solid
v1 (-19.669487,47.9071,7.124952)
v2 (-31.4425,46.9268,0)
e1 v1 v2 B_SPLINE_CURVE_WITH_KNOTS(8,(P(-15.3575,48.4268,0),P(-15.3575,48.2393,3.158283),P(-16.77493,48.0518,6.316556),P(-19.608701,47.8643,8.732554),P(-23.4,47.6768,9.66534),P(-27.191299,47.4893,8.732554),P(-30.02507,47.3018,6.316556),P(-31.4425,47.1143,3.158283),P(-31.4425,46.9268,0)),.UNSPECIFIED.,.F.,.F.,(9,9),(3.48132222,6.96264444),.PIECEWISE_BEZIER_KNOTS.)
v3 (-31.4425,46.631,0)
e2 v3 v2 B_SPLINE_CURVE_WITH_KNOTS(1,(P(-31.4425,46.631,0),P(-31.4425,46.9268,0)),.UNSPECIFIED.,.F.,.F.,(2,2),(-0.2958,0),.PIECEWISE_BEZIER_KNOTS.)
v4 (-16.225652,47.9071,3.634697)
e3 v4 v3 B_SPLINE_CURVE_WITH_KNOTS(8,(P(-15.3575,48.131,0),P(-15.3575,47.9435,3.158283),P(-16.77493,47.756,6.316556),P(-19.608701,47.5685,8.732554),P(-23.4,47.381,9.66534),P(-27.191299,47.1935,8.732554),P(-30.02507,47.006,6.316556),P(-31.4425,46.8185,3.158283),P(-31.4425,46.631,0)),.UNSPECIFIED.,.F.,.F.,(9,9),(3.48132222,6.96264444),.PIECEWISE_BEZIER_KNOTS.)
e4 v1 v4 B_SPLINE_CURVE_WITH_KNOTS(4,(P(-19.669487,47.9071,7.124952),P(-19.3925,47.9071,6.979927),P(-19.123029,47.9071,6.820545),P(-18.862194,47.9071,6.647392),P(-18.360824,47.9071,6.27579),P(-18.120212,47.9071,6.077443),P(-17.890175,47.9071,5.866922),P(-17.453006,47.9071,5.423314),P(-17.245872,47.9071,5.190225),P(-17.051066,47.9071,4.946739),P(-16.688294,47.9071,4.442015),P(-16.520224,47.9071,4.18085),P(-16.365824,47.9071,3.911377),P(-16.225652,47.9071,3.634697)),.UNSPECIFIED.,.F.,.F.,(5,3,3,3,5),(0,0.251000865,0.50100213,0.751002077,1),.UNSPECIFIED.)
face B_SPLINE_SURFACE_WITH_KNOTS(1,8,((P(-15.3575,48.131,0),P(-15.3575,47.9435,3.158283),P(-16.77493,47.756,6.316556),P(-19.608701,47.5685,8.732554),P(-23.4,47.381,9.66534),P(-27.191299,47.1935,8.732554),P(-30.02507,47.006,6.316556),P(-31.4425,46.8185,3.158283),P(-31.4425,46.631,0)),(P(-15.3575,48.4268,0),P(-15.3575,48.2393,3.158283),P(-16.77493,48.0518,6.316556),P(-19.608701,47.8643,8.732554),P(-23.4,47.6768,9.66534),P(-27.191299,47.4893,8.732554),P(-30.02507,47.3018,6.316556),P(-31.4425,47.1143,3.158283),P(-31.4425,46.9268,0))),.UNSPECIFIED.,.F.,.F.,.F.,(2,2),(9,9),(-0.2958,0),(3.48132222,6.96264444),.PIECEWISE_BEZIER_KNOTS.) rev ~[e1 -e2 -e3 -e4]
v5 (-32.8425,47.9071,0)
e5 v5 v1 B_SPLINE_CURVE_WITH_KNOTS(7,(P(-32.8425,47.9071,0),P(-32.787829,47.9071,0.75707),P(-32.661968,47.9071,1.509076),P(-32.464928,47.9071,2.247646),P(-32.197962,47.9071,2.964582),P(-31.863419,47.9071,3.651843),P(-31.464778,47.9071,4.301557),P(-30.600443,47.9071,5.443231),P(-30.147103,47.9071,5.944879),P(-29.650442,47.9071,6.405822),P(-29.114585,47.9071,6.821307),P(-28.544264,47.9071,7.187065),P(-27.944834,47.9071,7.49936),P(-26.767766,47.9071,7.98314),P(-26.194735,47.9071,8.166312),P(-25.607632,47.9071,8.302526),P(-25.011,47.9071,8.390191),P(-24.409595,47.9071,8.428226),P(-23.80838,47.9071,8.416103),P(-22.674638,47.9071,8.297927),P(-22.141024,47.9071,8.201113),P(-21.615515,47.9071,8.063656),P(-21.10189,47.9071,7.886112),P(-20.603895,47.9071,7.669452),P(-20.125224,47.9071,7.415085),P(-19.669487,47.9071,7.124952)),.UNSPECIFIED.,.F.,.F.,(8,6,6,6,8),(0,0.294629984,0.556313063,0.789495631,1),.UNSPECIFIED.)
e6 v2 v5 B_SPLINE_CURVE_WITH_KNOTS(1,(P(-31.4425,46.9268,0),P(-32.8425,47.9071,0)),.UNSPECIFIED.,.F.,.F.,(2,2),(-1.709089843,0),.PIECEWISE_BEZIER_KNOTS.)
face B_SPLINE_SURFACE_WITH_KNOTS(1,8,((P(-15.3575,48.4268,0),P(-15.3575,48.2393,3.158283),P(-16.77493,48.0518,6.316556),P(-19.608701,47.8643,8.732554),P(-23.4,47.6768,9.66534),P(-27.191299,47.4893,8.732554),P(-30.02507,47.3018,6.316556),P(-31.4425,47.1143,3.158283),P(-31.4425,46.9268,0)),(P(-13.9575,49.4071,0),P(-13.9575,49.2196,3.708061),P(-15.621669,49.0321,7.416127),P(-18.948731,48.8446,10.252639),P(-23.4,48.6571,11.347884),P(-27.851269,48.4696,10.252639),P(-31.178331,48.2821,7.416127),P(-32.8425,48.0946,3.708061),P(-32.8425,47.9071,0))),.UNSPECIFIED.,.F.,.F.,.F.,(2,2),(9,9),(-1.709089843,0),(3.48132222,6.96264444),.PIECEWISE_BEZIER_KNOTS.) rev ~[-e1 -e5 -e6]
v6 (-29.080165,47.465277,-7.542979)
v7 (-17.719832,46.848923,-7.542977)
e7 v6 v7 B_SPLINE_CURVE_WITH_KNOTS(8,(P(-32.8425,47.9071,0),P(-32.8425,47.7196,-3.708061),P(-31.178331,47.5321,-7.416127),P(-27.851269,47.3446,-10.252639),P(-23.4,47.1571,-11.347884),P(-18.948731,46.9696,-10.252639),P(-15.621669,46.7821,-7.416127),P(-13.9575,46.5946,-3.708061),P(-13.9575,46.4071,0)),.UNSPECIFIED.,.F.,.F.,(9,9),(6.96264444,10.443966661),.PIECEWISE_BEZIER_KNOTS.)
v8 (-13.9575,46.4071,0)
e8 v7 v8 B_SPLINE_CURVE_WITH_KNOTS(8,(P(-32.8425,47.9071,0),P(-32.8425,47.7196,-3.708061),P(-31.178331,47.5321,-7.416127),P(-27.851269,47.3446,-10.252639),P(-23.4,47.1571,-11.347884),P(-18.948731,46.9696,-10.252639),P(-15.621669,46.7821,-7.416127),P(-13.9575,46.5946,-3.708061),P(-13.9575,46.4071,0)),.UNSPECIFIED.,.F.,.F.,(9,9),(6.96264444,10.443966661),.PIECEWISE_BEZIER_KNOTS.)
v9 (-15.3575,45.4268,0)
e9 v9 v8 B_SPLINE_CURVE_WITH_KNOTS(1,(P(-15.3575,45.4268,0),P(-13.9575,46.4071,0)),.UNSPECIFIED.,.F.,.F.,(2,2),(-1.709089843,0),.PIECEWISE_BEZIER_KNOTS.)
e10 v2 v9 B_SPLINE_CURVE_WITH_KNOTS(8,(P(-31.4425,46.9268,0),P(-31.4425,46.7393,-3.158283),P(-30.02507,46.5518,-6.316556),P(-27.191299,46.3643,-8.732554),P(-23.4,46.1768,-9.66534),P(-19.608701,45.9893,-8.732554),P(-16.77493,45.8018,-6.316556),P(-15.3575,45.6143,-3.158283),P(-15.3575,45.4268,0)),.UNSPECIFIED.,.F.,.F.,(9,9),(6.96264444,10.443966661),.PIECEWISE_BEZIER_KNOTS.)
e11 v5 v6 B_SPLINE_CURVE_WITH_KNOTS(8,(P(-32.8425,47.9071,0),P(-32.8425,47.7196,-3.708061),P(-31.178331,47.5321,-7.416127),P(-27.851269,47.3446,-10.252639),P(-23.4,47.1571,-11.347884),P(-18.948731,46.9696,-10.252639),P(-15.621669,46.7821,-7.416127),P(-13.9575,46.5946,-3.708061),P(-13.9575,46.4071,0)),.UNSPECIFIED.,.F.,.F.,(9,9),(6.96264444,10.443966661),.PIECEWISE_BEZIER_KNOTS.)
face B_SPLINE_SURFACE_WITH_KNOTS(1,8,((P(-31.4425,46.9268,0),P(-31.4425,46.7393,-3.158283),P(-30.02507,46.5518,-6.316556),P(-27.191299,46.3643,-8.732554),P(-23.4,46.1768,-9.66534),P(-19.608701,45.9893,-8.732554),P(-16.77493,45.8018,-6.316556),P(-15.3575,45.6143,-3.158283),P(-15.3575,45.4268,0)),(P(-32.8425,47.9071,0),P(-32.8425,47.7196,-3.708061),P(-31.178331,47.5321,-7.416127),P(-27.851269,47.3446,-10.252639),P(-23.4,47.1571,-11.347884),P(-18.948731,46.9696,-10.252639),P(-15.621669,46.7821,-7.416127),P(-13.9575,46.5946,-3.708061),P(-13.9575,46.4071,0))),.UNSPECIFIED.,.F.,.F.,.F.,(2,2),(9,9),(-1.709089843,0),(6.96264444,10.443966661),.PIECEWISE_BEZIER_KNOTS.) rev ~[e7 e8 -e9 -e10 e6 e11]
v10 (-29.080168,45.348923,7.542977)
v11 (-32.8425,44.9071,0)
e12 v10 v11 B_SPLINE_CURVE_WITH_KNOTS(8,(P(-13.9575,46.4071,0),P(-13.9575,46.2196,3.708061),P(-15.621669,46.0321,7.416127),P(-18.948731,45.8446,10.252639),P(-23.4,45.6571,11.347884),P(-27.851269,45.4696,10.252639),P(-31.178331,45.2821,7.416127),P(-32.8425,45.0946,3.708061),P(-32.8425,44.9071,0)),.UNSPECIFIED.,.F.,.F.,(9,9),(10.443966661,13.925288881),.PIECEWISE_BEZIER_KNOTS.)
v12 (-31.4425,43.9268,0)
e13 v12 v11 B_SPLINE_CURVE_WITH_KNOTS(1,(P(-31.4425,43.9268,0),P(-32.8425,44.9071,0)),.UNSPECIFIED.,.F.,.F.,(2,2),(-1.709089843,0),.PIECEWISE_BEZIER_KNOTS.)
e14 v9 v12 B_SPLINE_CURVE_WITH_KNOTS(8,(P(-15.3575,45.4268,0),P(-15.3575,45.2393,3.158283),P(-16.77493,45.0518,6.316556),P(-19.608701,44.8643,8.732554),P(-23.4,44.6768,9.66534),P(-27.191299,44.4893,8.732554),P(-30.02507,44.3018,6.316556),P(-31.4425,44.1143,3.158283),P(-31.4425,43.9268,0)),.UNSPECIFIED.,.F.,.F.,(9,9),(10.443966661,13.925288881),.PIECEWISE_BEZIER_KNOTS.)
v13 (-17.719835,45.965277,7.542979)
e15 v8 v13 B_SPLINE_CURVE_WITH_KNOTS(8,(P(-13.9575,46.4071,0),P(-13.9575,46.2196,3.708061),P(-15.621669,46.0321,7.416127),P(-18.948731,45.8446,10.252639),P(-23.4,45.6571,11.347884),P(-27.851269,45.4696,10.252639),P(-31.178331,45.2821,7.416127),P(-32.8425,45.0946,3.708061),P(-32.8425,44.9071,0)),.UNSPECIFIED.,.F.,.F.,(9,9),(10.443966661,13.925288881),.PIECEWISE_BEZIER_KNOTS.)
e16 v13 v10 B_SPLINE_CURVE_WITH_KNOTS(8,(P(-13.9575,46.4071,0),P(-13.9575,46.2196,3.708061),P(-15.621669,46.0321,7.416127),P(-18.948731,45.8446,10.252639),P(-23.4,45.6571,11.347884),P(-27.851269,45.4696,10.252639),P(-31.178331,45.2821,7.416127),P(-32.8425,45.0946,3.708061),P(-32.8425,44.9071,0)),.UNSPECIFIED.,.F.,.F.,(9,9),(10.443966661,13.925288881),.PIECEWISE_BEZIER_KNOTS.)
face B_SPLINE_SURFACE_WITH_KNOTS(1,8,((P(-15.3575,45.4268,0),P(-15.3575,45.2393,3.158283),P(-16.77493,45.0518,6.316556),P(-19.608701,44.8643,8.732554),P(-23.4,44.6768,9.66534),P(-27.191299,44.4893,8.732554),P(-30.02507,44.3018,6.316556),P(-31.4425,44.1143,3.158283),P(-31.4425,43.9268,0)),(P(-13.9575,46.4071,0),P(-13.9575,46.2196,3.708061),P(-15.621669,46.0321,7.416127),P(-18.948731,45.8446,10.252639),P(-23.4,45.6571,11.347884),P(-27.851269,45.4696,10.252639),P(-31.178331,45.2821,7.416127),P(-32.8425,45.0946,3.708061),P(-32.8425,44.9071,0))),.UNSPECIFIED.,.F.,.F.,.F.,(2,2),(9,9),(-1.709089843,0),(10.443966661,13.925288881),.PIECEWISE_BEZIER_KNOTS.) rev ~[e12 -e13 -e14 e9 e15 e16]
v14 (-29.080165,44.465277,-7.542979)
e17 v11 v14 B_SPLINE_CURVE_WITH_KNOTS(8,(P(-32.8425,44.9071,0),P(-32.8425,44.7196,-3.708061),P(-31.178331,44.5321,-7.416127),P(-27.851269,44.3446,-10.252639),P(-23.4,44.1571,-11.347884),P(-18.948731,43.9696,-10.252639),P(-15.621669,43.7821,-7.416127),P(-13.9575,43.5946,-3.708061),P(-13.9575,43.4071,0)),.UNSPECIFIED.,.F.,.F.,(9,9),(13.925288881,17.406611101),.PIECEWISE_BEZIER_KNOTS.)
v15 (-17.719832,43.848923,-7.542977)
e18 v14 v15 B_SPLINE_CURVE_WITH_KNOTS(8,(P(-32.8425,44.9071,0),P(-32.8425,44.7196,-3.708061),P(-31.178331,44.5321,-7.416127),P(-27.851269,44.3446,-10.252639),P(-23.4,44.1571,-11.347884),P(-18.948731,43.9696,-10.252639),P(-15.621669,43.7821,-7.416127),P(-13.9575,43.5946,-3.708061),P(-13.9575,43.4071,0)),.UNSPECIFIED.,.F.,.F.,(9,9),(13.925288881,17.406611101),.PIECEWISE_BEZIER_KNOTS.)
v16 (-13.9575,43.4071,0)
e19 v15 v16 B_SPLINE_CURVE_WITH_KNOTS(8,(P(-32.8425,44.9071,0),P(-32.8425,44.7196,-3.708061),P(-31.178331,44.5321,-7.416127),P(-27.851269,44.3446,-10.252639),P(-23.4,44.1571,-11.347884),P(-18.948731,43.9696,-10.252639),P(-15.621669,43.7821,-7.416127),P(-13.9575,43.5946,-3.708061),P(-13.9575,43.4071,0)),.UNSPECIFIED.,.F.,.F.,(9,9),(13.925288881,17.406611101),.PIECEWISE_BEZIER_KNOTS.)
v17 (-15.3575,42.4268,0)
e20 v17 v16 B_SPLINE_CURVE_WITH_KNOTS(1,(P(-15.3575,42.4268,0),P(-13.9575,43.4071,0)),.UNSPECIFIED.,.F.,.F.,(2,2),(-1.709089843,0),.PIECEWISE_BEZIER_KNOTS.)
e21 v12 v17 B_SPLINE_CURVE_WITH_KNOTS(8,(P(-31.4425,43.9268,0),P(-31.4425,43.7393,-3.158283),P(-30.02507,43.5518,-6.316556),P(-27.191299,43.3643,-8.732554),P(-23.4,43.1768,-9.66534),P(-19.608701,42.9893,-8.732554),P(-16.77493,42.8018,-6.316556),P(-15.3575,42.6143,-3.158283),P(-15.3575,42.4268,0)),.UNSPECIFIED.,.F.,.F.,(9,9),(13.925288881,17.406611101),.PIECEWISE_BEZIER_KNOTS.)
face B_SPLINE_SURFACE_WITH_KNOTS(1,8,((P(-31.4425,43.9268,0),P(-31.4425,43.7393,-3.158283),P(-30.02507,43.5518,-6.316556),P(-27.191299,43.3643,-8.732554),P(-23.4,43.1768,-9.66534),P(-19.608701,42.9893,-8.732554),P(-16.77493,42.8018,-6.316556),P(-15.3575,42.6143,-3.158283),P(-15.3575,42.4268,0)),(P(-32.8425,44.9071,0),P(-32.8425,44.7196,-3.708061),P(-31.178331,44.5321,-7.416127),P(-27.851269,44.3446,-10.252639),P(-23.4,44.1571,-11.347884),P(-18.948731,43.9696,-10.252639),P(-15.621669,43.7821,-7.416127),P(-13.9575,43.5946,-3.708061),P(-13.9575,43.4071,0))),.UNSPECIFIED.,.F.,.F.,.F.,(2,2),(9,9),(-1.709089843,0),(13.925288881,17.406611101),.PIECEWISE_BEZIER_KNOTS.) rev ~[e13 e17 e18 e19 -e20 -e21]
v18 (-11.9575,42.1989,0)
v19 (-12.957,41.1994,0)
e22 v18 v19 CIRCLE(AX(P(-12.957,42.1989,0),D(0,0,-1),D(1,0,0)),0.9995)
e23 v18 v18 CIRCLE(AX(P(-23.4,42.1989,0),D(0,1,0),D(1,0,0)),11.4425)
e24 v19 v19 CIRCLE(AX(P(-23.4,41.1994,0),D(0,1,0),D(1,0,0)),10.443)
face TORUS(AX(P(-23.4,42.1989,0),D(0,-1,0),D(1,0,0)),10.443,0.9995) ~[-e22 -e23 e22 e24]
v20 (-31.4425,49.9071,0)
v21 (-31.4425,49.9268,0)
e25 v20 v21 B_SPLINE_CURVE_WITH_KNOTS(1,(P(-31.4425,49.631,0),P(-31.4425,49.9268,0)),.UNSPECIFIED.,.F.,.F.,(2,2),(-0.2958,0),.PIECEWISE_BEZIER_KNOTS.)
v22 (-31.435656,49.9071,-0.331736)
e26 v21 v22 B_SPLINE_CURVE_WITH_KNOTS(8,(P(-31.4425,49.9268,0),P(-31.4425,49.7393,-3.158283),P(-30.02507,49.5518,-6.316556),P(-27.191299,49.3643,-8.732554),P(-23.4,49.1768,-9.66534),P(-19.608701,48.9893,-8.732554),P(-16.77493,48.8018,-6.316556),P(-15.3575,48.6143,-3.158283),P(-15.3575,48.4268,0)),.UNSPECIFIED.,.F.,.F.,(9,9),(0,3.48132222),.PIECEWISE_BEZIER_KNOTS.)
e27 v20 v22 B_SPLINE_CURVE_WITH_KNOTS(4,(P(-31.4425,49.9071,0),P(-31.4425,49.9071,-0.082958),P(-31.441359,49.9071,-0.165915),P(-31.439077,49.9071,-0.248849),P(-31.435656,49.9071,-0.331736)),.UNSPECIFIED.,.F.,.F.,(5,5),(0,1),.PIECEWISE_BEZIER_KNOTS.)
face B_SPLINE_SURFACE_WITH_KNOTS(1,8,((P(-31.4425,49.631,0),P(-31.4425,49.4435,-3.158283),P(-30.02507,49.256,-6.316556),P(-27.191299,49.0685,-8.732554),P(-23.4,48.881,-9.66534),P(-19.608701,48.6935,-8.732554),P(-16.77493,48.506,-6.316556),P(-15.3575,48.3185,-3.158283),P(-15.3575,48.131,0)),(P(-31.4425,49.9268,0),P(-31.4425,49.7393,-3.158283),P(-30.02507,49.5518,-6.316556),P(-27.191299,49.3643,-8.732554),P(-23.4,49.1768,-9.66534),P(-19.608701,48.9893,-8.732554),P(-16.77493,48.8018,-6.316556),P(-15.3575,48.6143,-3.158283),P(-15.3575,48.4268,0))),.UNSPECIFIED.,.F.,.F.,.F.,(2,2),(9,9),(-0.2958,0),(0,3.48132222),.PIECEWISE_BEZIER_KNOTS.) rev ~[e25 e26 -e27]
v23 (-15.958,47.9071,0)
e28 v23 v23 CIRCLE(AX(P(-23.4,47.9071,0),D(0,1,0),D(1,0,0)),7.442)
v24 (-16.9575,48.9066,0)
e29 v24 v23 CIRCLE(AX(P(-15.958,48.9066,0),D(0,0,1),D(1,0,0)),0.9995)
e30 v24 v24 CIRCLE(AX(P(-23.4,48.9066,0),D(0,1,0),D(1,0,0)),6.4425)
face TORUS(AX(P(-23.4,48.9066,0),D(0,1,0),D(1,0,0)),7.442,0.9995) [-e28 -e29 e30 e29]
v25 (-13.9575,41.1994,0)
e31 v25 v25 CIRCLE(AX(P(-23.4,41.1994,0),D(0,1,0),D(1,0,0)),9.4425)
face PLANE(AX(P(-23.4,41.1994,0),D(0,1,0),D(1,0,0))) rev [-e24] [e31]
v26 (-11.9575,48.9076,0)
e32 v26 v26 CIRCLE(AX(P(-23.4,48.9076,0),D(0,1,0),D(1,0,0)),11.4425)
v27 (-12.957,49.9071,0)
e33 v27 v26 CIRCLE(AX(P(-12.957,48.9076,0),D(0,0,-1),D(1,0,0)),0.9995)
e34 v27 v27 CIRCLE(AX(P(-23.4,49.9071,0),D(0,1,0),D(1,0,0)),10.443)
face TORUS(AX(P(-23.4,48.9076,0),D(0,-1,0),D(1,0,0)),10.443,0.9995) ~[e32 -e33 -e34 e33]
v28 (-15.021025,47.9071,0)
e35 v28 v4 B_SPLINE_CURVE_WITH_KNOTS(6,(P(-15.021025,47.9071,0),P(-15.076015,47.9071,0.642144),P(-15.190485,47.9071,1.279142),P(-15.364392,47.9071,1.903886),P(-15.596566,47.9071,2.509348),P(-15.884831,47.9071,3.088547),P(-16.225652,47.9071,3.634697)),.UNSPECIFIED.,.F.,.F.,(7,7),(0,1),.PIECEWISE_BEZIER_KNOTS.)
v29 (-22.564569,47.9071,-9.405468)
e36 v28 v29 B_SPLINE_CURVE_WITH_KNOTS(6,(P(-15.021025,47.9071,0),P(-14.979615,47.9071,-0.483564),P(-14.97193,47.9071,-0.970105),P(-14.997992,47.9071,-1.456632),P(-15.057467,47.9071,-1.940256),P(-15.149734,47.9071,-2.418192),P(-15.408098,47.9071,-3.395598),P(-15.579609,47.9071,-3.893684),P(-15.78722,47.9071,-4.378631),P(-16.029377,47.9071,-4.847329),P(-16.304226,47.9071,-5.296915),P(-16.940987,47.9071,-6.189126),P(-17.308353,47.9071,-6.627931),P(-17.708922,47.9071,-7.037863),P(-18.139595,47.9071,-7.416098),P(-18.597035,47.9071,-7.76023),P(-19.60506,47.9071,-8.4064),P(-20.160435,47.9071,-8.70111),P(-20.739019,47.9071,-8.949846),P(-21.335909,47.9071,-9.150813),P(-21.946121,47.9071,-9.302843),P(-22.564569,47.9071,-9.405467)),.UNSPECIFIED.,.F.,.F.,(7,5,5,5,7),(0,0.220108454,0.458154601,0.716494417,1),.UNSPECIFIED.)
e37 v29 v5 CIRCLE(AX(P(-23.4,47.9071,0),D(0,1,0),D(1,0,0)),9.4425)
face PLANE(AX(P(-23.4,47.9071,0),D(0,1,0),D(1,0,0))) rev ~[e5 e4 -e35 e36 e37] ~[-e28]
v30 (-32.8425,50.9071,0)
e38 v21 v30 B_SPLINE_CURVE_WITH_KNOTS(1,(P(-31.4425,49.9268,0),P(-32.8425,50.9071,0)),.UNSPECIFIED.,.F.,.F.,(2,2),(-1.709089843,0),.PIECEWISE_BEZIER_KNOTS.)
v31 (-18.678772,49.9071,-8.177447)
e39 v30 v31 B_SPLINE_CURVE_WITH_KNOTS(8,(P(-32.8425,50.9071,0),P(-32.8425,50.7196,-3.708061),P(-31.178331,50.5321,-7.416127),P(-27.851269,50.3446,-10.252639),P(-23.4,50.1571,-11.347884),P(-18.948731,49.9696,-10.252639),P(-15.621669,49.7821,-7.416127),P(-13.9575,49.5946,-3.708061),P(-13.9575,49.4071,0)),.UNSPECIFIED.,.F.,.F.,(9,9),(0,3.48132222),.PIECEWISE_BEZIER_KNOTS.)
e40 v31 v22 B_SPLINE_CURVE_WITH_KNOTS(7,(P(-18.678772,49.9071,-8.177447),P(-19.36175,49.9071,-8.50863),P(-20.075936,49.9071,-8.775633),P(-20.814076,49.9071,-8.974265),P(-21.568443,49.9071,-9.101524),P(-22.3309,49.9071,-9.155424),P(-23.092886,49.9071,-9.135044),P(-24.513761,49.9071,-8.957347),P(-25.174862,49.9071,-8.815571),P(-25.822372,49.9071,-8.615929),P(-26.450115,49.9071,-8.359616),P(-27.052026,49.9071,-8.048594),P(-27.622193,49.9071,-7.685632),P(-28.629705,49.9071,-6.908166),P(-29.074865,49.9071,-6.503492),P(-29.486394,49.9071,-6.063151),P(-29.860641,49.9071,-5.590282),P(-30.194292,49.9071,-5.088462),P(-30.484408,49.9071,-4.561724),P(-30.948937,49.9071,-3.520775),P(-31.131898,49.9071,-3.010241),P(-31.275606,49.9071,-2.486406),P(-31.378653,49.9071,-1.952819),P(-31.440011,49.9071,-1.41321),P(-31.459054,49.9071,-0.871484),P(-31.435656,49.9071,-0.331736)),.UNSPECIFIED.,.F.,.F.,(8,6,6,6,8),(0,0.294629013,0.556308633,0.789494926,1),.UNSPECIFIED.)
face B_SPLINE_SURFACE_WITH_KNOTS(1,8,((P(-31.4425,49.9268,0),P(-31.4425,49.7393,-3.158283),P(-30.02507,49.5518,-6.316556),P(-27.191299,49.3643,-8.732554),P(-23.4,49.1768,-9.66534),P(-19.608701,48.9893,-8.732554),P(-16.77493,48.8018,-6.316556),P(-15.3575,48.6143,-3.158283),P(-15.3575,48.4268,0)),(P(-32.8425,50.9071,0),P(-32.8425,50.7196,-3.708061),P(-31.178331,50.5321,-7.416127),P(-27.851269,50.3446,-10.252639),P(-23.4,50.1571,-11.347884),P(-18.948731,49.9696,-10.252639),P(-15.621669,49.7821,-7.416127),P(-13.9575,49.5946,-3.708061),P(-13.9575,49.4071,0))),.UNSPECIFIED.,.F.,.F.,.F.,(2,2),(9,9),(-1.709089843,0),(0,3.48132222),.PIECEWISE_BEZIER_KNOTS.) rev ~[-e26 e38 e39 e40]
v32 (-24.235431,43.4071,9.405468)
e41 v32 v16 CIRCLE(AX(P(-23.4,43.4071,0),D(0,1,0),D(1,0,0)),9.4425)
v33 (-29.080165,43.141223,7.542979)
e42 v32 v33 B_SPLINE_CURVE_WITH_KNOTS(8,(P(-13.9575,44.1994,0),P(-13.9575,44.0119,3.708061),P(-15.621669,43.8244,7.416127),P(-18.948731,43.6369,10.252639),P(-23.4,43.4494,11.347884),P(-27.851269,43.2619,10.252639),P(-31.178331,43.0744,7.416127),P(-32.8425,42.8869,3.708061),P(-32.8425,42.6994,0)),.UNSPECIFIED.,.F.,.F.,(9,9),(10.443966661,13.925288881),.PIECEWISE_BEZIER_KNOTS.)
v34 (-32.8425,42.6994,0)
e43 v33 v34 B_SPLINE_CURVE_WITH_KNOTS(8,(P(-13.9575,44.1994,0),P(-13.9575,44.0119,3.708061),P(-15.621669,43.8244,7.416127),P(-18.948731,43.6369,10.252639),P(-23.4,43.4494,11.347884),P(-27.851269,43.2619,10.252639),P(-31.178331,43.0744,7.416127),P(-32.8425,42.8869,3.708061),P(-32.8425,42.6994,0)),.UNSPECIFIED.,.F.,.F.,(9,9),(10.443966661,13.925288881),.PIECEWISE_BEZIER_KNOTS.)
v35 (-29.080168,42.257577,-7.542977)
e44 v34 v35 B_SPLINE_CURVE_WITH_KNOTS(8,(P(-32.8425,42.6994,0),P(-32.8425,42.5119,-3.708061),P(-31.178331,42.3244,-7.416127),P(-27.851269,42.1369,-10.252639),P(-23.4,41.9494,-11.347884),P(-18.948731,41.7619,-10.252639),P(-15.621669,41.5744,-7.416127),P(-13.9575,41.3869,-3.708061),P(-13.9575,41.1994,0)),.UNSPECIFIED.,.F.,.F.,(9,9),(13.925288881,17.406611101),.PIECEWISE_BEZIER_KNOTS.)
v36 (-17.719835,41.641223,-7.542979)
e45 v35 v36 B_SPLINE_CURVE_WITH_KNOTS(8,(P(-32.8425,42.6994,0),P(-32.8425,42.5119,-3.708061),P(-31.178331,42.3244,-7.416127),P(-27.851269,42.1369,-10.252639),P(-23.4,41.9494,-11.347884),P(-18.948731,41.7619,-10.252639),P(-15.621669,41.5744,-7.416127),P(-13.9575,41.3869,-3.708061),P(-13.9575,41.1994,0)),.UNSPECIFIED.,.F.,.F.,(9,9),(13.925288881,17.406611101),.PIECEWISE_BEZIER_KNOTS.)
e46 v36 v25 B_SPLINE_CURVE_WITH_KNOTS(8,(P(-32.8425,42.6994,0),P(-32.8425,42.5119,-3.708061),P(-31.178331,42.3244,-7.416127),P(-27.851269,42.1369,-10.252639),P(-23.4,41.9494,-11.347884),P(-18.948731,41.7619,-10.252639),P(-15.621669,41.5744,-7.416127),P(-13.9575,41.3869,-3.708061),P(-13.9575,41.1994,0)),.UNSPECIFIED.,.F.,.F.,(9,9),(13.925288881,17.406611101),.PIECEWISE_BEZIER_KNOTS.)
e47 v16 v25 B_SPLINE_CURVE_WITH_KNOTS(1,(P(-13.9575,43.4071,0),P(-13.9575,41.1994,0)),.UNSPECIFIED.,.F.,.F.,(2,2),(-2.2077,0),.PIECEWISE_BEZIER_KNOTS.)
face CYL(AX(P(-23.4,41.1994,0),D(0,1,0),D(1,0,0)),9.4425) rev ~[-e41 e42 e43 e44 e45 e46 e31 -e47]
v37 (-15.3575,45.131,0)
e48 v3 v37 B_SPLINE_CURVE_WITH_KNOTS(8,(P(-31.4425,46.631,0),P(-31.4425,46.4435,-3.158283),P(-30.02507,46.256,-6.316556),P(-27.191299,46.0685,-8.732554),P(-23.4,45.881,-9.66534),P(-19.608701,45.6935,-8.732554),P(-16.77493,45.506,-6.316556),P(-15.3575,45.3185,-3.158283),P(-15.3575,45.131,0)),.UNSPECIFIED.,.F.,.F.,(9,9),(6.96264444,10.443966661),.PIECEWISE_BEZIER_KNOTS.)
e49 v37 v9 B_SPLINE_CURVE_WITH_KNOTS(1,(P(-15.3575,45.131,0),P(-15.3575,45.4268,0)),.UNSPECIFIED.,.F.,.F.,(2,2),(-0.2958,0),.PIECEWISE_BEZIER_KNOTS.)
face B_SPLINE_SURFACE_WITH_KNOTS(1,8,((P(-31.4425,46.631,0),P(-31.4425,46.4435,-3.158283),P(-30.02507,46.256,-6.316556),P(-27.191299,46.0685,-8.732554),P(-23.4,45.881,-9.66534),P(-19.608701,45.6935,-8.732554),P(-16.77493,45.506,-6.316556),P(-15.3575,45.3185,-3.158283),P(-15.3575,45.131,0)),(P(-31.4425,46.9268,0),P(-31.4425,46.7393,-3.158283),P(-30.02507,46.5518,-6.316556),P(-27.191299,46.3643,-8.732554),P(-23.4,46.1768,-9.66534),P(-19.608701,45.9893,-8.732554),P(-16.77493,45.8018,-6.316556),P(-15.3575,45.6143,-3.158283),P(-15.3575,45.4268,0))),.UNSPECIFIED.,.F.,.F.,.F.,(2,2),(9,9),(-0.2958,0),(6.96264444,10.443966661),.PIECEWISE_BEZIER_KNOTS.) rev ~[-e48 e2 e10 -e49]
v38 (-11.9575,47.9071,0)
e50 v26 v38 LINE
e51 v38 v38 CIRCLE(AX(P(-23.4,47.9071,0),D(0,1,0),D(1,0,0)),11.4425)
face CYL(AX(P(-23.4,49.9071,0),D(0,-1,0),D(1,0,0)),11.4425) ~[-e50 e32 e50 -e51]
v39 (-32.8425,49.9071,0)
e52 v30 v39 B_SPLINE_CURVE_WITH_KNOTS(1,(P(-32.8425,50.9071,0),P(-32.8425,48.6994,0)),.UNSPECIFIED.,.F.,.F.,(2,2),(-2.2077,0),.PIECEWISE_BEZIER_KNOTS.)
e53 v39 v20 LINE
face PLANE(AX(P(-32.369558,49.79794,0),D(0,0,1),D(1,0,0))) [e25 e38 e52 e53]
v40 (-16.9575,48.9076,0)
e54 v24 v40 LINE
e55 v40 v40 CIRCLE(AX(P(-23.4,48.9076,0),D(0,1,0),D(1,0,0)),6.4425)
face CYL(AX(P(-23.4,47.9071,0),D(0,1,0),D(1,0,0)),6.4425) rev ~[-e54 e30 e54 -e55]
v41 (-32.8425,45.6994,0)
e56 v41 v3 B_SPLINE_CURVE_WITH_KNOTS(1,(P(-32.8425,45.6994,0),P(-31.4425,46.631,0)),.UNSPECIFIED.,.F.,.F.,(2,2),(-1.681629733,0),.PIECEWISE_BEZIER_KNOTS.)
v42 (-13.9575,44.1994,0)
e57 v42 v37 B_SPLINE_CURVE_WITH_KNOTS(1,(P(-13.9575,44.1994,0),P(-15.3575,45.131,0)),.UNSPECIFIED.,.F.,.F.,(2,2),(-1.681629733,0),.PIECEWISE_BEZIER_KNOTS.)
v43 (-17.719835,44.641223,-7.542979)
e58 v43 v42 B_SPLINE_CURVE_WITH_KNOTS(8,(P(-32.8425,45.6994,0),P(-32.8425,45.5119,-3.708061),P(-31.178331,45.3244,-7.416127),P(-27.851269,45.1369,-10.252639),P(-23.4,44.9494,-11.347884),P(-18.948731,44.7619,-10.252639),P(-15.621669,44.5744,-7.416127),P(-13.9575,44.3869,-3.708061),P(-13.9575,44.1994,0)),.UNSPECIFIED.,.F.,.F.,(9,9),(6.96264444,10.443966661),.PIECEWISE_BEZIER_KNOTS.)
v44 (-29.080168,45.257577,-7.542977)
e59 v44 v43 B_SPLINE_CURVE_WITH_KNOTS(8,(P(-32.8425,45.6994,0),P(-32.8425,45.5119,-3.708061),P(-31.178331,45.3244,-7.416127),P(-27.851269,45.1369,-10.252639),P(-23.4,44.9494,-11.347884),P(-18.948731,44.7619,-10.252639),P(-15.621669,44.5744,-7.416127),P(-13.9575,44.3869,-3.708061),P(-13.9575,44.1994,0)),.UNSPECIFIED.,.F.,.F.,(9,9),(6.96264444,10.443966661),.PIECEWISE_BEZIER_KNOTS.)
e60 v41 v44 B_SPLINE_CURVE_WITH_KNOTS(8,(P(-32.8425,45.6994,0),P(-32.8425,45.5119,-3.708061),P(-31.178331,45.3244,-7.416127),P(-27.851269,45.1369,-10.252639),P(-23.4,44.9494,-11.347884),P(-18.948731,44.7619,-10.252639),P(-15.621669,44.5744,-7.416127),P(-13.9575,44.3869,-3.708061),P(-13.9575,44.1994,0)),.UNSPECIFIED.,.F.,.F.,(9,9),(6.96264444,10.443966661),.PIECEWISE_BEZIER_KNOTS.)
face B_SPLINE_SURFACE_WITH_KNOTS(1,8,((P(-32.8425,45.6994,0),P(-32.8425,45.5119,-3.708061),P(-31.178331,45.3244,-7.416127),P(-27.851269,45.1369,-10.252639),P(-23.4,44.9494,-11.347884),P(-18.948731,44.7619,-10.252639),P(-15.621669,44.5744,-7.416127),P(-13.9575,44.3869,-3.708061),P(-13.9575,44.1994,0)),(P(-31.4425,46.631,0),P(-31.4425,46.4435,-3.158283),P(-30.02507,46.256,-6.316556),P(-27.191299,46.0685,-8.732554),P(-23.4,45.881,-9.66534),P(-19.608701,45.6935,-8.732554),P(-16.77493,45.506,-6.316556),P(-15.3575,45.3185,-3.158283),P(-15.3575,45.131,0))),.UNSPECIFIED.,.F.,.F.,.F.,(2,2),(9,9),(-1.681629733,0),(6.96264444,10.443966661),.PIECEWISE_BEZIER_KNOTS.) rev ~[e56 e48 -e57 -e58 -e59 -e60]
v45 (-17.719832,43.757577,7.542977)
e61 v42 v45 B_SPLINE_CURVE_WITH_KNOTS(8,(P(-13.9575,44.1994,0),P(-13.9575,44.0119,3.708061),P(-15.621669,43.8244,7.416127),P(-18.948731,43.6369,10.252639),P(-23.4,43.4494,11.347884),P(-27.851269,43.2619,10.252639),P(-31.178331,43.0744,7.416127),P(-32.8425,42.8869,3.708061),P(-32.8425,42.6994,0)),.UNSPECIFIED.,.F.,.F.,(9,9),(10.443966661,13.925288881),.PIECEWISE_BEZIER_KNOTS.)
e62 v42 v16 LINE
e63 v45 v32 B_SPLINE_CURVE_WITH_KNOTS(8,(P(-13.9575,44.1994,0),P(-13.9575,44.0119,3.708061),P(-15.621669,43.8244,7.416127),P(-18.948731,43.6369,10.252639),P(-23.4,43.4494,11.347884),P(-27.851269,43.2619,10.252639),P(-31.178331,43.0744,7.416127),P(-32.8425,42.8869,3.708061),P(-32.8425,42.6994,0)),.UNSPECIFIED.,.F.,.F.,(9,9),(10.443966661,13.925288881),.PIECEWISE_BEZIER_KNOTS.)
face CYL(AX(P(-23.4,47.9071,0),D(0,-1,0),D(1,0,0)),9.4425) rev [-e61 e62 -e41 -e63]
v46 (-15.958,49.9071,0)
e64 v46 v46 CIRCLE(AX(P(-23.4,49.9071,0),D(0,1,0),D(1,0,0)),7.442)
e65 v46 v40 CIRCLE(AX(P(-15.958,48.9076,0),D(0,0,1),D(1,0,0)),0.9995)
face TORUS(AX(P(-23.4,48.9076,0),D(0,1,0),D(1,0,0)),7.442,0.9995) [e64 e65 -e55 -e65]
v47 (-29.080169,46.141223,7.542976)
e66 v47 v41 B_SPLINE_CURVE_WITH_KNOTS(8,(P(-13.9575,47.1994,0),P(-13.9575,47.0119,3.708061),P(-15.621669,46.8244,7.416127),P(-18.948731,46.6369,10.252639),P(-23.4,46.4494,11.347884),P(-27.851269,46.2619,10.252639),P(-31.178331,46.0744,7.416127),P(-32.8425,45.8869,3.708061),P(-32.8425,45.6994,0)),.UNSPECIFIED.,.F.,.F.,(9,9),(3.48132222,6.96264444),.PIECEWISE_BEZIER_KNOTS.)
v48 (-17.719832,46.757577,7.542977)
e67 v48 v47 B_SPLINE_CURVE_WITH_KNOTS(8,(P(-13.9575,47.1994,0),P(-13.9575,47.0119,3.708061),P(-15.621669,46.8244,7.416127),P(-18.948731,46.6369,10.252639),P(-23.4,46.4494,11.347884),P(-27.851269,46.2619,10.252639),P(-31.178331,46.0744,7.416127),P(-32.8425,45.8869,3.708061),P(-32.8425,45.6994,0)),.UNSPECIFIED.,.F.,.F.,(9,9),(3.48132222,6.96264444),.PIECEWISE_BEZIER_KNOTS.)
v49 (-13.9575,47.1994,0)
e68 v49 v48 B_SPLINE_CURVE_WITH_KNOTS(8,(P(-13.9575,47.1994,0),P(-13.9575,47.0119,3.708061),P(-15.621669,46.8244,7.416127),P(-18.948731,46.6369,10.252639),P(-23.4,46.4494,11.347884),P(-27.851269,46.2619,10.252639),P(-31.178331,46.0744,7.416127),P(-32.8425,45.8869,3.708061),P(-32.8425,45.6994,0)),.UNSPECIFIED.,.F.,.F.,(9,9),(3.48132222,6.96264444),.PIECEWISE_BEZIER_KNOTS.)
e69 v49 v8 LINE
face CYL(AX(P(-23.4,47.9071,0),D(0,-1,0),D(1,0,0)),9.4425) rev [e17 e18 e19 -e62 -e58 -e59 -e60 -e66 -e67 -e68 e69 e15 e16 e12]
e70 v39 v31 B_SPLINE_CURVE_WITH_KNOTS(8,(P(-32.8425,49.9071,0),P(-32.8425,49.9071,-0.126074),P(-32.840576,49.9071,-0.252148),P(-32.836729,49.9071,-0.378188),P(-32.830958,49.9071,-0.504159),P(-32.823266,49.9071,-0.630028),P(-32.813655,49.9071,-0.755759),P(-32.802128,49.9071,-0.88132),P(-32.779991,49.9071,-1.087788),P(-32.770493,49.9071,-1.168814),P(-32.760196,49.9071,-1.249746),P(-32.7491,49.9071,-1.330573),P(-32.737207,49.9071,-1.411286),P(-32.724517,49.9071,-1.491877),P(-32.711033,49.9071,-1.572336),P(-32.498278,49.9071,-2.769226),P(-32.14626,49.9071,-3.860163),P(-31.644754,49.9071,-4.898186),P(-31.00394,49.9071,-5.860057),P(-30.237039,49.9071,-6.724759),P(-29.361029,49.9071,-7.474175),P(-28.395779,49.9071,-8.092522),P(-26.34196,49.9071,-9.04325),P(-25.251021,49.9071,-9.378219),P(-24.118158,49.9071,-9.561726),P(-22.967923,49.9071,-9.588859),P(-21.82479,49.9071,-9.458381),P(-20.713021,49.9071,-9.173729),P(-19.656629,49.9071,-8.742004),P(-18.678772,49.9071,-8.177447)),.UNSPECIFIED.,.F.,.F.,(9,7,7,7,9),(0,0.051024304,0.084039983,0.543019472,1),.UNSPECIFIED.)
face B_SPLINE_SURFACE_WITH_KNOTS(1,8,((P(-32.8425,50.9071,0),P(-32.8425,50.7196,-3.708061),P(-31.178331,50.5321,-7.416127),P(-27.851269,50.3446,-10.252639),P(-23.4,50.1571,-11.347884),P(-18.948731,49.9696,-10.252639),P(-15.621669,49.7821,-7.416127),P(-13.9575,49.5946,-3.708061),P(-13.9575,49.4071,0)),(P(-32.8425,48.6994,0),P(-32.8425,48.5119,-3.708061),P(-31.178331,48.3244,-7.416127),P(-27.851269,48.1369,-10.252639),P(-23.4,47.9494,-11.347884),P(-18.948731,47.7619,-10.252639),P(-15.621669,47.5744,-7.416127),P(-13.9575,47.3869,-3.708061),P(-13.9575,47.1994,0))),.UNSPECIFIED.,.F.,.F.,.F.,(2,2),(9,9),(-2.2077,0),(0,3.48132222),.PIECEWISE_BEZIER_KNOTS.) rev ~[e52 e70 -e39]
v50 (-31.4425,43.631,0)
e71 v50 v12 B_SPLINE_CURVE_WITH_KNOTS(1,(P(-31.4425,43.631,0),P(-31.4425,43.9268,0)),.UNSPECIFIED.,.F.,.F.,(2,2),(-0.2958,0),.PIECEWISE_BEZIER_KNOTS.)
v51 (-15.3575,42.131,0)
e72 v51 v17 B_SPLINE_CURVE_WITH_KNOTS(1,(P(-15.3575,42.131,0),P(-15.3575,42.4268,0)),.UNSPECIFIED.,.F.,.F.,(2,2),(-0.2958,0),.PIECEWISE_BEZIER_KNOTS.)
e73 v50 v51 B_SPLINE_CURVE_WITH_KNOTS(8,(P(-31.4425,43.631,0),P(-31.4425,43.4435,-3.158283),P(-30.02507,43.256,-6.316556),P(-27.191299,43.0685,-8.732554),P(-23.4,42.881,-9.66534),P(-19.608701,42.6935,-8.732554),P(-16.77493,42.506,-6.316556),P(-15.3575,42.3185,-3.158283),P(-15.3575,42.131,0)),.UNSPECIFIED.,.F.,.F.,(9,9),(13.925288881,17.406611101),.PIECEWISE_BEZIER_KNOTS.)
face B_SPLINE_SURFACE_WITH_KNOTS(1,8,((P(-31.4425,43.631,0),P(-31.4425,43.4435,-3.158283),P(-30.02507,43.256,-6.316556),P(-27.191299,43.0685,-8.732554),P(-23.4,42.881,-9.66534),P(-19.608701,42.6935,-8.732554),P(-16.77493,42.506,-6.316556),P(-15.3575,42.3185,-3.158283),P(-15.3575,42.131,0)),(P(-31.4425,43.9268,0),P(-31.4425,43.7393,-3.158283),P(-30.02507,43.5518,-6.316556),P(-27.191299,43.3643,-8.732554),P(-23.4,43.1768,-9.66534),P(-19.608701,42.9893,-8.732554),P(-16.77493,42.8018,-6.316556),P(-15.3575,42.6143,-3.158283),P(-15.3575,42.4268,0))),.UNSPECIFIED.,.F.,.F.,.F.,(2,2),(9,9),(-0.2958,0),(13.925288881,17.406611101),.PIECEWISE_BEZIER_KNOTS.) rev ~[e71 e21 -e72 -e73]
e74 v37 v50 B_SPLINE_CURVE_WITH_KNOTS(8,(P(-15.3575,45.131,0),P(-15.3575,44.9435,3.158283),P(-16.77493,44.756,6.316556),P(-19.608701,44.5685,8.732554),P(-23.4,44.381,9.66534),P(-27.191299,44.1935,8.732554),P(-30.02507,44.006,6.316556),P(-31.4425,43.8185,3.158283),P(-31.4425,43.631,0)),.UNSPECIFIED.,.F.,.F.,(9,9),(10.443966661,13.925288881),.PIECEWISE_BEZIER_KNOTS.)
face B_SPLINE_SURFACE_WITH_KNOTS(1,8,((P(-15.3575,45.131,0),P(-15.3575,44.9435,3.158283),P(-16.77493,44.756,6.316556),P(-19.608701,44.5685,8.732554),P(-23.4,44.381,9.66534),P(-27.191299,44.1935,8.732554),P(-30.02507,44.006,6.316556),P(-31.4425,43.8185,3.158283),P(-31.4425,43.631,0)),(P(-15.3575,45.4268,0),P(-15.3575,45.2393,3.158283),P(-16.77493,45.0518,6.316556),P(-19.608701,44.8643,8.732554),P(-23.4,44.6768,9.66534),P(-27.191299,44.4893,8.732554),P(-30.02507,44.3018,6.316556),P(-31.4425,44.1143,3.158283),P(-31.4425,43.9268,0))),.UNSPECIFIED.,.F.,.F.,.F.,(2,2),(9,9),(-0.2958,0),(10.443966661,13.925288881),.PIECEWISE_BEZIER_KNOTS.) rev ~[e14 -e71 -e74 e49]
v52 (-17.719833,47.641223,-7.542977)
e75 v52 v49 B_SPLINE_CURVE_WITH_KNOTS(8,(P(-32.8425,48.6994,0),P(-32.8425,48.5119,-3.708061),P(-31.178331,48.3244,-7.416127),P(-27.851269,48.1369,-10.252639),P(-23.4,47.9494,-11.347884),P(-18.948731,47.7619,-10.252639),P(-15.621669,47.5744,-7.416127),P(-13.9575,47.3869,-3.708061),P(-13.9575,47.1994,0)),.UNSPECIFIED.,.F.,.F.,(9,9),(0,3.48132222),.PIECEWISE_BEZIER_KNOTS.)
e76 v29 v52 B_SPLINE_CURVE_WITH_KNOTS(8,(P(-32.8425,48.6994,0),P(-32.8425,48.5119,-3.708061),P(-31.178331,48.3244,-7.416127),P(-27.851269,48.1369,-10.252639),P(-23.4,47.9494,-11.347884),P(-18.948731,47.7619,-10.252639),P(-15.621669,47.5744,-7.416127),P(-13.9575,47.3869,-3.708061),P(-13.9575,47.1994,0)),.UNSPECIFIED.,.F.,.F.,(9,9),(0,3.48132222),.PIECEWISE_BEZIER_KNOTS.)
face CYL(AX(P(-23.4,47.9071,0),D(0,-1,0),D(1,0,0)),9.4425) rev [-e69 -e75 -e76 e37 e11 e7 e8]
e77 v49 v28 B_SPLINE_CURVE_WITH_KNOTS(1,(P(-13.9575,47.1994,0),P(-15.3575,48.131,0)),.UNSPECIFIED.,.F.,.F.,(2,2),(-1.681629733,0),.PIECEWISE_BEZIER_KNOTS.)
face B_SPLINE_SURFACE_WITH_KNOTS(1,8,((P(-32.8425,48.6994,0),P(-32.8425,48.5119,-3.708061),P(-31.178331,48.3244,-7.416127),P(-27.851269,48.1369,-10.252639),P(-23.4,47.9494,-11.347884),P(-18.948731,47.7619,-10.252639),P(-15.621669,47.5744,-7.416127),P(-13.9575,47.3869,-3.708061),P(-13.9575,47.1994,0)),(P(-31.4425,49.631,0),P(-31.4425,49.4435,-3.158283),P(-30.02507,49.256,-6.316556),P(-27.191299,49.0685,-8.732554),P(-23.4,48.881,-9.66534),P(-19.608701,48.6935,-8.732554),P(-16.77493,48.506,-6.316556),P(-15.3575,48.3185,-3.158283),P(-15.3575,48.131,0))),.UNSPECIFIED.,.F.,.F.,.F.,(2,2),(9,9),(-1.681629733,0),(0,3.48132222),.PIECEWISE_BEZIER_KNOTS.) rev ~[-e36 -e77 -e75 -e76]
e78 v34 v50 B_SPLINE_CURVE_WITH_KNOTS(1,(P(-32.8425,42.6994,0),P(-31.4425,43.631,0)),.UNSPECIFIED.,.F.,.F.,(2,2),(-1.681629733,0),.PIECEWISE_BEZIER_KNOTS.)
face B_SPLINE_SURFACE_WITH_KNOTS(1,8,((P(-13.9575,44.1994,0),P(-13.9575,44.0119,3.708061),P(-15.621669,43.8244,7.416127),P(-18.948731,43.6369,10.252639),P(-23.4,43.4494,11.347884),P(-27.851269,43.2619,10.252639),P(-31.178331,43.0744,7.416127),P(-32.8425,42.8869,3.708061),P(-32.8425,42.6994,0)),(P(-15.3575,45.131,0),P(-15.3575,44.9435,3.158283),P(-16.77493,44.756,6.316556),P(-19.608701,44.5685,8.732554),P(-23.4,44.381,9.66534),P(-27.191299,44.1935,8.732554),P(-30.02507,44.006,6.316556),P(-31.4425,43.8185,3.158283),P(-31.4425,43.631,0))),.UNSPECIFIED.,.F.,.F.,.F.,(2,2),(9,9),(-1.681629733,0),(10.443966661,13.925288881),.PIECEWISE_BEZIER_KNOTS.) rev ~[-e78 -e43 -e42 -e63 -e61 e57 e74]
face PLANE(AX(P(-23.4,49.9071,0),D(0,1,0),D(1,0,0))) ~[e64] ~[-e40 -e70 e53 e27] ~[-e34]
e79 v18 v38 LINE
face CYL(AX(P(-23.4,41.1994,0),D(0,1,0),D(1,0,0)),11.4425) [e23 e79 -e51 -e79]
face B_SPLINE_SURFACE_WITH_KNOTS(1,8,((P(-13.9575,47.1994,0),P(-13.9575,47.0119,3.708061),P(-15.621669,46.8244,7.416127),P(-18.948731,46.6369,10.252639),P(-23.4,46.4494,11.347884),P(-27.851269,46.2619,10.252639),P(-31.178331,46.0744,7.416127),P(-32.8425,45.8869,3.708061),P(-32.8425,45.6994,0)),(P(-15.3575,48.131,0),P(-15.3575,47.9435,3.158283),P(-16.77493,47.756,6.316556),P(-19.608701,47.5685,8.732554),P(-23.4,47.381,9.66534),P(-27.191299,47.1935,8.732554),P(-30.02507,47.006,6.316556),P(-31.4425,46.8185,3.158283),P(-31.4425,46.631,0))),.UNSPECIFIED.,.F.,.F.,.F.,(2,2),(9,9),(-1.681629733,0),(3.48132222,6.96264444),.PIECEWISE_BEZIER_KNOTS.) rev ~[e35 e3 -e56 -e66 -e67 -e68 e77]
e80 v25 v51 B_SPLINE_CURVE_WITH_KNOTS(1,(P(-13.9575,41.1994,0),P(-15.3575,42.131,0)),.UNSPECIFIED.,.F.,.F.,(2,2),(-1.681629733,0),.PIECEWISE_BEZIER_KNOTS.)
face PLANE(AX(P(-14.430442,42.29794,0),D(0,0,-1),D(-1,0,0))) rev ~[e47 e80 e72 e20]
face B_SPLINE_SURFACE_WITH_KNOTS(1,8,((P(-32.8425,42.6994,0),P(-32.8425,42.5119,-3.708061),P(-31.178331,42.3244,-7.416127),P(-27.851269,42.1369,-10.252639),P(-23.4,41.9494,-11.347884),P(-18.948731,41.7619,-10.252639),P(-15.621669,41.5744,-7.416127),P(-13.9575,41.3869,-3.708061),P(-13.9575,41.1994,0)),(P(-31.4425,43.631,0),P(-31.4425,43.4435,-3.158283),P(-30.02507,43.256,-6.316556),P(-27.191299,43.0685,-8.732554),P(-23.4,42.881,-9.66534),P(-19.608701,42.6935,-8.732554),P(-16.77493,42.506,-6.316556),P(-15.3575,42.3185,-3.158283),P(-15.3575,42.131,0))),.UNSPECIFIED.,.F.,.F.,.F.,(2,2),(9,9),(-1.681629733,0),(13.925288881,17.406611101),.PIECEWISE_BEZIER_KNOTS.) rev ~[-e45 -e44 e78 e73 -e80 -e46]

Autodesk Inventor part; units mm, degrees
ref_plane "YZ Plane" through (0, 0, 0) normal (1, 0, 0) x (0, 1, 0)
ref_plane "XZ Plane" through (0, 0, 0) normal (0, 1, 0) x (-1, 0, 0)
ref_plane "XY Plane" through (0, 0, 0) normal (0, 0, 1) x (1, 0, 0)
ref_plane "Work Plane1" through (0, 46.8, 0) normal (0, 0, 1) x (-1, 0, 0)
sketch "Sketch2" plane through (0, 46.8, 0) normal (0, 0, 1) x (-1, 0, 0)
  spline S0 degree 3 number of poles 148
  spline S1 degree 3 number of poles 148
  line L0 (31.3425, -5.6798) -> (32.5946, -4.8031)
  line L1 (32.5946, -4.1553) -> (31.3425, -3.2786)
  line L2 (31.3425, -3.2786) -> (31.3425, -5.6037)
  line L3 (32.5946, -4.8031) -> (32.5946, -4.1553)
  line L4 (31.3425, 13.5614) -> (31.3425, -5.6037)
  line L5 (32.8425, -4.1071) -> (31.4425, -3.1268)
  line L6 (31.4425, -3.1268) -> (31.4425, -2.831)
  line L7 (31.4425, -2.831) -> (32.8425, -1.8994)
  line L8 (32.8425, -1.8994) -> (32.8425, -4.1071)
  point P0 (0, 46.8)
  point P1 (31.9686, -3.7169)
  point P2 (32.1425, -3.6169)
  point P3 (31.4425, -2.9789)
  dimension "d4" = 0
  dimension "d5" = 0.1
  dimension "d6" = 0.1
  dimension "d7" = 1.4
coil "Coil1" sketch "Sketch2" operation add axis through (-23.4, 35.1998, 0) along (0, -1, 0) pitch 3 turns 2.5 hand right contours L5 L6 L7 L8
sketch "Sketch3" plane through (0, 46.8, 0) normal (0, 0, 1) x (-1, 0, 0)
  line L0 (13.9575, 5.6006) -> (13.9575, 3.3929) projected
  line L1 (32.8425, -1.8994) -> (32.8425, -4.1071) projected
  line L2 (15.3575, 4.669) -> (13.9575, 5.6006) projected
  line L3 (13.9575, 5.6006) -> (11.9575, 5.6006)
  line L4 (11.9575, 5.6006) -> (11.9575, -1.1071)
  line L5 (11.9575, -1.1071) -> (13.9575, -1.1071)
  line L6 (13.9575, -1.1071) -> (13.9575, 5.6006)
  line L7 (11.9575, -1.1071) -> (16.9575, -1.1071)
  line L8 (16.9575, -1.1071) -> (16.9575, -3.1071)
  line L9 (16.9575, -3.1071) -> (11.9575, -3.1071)
  line L10 (11.9575, -3.1071) -> (11.9575, -1.1071)
  line L11 (23.4, 56.7814) -> (23.4, -13.0885) projected
  point P0 (0, 46.8)
  dimension "d16" = 2
  dimension "d17" = 5
  dimension "d18" = 2
revolve "Revolution2" add sketch "Sketch3" angle 360 about axis through (-23.4, 35.1998, 0) along (0, 1, 0)
fillet "Fillet1" radius 1 4 edges at (-34.8425, 49.9071, 0) (-29.8425, 49.9071, 0) (-29.8425, 47.9071, 0) (-34.8425, 41.1994, 0)
properties part number "20_Cube_4_insert_Photosensor_lenscap"
